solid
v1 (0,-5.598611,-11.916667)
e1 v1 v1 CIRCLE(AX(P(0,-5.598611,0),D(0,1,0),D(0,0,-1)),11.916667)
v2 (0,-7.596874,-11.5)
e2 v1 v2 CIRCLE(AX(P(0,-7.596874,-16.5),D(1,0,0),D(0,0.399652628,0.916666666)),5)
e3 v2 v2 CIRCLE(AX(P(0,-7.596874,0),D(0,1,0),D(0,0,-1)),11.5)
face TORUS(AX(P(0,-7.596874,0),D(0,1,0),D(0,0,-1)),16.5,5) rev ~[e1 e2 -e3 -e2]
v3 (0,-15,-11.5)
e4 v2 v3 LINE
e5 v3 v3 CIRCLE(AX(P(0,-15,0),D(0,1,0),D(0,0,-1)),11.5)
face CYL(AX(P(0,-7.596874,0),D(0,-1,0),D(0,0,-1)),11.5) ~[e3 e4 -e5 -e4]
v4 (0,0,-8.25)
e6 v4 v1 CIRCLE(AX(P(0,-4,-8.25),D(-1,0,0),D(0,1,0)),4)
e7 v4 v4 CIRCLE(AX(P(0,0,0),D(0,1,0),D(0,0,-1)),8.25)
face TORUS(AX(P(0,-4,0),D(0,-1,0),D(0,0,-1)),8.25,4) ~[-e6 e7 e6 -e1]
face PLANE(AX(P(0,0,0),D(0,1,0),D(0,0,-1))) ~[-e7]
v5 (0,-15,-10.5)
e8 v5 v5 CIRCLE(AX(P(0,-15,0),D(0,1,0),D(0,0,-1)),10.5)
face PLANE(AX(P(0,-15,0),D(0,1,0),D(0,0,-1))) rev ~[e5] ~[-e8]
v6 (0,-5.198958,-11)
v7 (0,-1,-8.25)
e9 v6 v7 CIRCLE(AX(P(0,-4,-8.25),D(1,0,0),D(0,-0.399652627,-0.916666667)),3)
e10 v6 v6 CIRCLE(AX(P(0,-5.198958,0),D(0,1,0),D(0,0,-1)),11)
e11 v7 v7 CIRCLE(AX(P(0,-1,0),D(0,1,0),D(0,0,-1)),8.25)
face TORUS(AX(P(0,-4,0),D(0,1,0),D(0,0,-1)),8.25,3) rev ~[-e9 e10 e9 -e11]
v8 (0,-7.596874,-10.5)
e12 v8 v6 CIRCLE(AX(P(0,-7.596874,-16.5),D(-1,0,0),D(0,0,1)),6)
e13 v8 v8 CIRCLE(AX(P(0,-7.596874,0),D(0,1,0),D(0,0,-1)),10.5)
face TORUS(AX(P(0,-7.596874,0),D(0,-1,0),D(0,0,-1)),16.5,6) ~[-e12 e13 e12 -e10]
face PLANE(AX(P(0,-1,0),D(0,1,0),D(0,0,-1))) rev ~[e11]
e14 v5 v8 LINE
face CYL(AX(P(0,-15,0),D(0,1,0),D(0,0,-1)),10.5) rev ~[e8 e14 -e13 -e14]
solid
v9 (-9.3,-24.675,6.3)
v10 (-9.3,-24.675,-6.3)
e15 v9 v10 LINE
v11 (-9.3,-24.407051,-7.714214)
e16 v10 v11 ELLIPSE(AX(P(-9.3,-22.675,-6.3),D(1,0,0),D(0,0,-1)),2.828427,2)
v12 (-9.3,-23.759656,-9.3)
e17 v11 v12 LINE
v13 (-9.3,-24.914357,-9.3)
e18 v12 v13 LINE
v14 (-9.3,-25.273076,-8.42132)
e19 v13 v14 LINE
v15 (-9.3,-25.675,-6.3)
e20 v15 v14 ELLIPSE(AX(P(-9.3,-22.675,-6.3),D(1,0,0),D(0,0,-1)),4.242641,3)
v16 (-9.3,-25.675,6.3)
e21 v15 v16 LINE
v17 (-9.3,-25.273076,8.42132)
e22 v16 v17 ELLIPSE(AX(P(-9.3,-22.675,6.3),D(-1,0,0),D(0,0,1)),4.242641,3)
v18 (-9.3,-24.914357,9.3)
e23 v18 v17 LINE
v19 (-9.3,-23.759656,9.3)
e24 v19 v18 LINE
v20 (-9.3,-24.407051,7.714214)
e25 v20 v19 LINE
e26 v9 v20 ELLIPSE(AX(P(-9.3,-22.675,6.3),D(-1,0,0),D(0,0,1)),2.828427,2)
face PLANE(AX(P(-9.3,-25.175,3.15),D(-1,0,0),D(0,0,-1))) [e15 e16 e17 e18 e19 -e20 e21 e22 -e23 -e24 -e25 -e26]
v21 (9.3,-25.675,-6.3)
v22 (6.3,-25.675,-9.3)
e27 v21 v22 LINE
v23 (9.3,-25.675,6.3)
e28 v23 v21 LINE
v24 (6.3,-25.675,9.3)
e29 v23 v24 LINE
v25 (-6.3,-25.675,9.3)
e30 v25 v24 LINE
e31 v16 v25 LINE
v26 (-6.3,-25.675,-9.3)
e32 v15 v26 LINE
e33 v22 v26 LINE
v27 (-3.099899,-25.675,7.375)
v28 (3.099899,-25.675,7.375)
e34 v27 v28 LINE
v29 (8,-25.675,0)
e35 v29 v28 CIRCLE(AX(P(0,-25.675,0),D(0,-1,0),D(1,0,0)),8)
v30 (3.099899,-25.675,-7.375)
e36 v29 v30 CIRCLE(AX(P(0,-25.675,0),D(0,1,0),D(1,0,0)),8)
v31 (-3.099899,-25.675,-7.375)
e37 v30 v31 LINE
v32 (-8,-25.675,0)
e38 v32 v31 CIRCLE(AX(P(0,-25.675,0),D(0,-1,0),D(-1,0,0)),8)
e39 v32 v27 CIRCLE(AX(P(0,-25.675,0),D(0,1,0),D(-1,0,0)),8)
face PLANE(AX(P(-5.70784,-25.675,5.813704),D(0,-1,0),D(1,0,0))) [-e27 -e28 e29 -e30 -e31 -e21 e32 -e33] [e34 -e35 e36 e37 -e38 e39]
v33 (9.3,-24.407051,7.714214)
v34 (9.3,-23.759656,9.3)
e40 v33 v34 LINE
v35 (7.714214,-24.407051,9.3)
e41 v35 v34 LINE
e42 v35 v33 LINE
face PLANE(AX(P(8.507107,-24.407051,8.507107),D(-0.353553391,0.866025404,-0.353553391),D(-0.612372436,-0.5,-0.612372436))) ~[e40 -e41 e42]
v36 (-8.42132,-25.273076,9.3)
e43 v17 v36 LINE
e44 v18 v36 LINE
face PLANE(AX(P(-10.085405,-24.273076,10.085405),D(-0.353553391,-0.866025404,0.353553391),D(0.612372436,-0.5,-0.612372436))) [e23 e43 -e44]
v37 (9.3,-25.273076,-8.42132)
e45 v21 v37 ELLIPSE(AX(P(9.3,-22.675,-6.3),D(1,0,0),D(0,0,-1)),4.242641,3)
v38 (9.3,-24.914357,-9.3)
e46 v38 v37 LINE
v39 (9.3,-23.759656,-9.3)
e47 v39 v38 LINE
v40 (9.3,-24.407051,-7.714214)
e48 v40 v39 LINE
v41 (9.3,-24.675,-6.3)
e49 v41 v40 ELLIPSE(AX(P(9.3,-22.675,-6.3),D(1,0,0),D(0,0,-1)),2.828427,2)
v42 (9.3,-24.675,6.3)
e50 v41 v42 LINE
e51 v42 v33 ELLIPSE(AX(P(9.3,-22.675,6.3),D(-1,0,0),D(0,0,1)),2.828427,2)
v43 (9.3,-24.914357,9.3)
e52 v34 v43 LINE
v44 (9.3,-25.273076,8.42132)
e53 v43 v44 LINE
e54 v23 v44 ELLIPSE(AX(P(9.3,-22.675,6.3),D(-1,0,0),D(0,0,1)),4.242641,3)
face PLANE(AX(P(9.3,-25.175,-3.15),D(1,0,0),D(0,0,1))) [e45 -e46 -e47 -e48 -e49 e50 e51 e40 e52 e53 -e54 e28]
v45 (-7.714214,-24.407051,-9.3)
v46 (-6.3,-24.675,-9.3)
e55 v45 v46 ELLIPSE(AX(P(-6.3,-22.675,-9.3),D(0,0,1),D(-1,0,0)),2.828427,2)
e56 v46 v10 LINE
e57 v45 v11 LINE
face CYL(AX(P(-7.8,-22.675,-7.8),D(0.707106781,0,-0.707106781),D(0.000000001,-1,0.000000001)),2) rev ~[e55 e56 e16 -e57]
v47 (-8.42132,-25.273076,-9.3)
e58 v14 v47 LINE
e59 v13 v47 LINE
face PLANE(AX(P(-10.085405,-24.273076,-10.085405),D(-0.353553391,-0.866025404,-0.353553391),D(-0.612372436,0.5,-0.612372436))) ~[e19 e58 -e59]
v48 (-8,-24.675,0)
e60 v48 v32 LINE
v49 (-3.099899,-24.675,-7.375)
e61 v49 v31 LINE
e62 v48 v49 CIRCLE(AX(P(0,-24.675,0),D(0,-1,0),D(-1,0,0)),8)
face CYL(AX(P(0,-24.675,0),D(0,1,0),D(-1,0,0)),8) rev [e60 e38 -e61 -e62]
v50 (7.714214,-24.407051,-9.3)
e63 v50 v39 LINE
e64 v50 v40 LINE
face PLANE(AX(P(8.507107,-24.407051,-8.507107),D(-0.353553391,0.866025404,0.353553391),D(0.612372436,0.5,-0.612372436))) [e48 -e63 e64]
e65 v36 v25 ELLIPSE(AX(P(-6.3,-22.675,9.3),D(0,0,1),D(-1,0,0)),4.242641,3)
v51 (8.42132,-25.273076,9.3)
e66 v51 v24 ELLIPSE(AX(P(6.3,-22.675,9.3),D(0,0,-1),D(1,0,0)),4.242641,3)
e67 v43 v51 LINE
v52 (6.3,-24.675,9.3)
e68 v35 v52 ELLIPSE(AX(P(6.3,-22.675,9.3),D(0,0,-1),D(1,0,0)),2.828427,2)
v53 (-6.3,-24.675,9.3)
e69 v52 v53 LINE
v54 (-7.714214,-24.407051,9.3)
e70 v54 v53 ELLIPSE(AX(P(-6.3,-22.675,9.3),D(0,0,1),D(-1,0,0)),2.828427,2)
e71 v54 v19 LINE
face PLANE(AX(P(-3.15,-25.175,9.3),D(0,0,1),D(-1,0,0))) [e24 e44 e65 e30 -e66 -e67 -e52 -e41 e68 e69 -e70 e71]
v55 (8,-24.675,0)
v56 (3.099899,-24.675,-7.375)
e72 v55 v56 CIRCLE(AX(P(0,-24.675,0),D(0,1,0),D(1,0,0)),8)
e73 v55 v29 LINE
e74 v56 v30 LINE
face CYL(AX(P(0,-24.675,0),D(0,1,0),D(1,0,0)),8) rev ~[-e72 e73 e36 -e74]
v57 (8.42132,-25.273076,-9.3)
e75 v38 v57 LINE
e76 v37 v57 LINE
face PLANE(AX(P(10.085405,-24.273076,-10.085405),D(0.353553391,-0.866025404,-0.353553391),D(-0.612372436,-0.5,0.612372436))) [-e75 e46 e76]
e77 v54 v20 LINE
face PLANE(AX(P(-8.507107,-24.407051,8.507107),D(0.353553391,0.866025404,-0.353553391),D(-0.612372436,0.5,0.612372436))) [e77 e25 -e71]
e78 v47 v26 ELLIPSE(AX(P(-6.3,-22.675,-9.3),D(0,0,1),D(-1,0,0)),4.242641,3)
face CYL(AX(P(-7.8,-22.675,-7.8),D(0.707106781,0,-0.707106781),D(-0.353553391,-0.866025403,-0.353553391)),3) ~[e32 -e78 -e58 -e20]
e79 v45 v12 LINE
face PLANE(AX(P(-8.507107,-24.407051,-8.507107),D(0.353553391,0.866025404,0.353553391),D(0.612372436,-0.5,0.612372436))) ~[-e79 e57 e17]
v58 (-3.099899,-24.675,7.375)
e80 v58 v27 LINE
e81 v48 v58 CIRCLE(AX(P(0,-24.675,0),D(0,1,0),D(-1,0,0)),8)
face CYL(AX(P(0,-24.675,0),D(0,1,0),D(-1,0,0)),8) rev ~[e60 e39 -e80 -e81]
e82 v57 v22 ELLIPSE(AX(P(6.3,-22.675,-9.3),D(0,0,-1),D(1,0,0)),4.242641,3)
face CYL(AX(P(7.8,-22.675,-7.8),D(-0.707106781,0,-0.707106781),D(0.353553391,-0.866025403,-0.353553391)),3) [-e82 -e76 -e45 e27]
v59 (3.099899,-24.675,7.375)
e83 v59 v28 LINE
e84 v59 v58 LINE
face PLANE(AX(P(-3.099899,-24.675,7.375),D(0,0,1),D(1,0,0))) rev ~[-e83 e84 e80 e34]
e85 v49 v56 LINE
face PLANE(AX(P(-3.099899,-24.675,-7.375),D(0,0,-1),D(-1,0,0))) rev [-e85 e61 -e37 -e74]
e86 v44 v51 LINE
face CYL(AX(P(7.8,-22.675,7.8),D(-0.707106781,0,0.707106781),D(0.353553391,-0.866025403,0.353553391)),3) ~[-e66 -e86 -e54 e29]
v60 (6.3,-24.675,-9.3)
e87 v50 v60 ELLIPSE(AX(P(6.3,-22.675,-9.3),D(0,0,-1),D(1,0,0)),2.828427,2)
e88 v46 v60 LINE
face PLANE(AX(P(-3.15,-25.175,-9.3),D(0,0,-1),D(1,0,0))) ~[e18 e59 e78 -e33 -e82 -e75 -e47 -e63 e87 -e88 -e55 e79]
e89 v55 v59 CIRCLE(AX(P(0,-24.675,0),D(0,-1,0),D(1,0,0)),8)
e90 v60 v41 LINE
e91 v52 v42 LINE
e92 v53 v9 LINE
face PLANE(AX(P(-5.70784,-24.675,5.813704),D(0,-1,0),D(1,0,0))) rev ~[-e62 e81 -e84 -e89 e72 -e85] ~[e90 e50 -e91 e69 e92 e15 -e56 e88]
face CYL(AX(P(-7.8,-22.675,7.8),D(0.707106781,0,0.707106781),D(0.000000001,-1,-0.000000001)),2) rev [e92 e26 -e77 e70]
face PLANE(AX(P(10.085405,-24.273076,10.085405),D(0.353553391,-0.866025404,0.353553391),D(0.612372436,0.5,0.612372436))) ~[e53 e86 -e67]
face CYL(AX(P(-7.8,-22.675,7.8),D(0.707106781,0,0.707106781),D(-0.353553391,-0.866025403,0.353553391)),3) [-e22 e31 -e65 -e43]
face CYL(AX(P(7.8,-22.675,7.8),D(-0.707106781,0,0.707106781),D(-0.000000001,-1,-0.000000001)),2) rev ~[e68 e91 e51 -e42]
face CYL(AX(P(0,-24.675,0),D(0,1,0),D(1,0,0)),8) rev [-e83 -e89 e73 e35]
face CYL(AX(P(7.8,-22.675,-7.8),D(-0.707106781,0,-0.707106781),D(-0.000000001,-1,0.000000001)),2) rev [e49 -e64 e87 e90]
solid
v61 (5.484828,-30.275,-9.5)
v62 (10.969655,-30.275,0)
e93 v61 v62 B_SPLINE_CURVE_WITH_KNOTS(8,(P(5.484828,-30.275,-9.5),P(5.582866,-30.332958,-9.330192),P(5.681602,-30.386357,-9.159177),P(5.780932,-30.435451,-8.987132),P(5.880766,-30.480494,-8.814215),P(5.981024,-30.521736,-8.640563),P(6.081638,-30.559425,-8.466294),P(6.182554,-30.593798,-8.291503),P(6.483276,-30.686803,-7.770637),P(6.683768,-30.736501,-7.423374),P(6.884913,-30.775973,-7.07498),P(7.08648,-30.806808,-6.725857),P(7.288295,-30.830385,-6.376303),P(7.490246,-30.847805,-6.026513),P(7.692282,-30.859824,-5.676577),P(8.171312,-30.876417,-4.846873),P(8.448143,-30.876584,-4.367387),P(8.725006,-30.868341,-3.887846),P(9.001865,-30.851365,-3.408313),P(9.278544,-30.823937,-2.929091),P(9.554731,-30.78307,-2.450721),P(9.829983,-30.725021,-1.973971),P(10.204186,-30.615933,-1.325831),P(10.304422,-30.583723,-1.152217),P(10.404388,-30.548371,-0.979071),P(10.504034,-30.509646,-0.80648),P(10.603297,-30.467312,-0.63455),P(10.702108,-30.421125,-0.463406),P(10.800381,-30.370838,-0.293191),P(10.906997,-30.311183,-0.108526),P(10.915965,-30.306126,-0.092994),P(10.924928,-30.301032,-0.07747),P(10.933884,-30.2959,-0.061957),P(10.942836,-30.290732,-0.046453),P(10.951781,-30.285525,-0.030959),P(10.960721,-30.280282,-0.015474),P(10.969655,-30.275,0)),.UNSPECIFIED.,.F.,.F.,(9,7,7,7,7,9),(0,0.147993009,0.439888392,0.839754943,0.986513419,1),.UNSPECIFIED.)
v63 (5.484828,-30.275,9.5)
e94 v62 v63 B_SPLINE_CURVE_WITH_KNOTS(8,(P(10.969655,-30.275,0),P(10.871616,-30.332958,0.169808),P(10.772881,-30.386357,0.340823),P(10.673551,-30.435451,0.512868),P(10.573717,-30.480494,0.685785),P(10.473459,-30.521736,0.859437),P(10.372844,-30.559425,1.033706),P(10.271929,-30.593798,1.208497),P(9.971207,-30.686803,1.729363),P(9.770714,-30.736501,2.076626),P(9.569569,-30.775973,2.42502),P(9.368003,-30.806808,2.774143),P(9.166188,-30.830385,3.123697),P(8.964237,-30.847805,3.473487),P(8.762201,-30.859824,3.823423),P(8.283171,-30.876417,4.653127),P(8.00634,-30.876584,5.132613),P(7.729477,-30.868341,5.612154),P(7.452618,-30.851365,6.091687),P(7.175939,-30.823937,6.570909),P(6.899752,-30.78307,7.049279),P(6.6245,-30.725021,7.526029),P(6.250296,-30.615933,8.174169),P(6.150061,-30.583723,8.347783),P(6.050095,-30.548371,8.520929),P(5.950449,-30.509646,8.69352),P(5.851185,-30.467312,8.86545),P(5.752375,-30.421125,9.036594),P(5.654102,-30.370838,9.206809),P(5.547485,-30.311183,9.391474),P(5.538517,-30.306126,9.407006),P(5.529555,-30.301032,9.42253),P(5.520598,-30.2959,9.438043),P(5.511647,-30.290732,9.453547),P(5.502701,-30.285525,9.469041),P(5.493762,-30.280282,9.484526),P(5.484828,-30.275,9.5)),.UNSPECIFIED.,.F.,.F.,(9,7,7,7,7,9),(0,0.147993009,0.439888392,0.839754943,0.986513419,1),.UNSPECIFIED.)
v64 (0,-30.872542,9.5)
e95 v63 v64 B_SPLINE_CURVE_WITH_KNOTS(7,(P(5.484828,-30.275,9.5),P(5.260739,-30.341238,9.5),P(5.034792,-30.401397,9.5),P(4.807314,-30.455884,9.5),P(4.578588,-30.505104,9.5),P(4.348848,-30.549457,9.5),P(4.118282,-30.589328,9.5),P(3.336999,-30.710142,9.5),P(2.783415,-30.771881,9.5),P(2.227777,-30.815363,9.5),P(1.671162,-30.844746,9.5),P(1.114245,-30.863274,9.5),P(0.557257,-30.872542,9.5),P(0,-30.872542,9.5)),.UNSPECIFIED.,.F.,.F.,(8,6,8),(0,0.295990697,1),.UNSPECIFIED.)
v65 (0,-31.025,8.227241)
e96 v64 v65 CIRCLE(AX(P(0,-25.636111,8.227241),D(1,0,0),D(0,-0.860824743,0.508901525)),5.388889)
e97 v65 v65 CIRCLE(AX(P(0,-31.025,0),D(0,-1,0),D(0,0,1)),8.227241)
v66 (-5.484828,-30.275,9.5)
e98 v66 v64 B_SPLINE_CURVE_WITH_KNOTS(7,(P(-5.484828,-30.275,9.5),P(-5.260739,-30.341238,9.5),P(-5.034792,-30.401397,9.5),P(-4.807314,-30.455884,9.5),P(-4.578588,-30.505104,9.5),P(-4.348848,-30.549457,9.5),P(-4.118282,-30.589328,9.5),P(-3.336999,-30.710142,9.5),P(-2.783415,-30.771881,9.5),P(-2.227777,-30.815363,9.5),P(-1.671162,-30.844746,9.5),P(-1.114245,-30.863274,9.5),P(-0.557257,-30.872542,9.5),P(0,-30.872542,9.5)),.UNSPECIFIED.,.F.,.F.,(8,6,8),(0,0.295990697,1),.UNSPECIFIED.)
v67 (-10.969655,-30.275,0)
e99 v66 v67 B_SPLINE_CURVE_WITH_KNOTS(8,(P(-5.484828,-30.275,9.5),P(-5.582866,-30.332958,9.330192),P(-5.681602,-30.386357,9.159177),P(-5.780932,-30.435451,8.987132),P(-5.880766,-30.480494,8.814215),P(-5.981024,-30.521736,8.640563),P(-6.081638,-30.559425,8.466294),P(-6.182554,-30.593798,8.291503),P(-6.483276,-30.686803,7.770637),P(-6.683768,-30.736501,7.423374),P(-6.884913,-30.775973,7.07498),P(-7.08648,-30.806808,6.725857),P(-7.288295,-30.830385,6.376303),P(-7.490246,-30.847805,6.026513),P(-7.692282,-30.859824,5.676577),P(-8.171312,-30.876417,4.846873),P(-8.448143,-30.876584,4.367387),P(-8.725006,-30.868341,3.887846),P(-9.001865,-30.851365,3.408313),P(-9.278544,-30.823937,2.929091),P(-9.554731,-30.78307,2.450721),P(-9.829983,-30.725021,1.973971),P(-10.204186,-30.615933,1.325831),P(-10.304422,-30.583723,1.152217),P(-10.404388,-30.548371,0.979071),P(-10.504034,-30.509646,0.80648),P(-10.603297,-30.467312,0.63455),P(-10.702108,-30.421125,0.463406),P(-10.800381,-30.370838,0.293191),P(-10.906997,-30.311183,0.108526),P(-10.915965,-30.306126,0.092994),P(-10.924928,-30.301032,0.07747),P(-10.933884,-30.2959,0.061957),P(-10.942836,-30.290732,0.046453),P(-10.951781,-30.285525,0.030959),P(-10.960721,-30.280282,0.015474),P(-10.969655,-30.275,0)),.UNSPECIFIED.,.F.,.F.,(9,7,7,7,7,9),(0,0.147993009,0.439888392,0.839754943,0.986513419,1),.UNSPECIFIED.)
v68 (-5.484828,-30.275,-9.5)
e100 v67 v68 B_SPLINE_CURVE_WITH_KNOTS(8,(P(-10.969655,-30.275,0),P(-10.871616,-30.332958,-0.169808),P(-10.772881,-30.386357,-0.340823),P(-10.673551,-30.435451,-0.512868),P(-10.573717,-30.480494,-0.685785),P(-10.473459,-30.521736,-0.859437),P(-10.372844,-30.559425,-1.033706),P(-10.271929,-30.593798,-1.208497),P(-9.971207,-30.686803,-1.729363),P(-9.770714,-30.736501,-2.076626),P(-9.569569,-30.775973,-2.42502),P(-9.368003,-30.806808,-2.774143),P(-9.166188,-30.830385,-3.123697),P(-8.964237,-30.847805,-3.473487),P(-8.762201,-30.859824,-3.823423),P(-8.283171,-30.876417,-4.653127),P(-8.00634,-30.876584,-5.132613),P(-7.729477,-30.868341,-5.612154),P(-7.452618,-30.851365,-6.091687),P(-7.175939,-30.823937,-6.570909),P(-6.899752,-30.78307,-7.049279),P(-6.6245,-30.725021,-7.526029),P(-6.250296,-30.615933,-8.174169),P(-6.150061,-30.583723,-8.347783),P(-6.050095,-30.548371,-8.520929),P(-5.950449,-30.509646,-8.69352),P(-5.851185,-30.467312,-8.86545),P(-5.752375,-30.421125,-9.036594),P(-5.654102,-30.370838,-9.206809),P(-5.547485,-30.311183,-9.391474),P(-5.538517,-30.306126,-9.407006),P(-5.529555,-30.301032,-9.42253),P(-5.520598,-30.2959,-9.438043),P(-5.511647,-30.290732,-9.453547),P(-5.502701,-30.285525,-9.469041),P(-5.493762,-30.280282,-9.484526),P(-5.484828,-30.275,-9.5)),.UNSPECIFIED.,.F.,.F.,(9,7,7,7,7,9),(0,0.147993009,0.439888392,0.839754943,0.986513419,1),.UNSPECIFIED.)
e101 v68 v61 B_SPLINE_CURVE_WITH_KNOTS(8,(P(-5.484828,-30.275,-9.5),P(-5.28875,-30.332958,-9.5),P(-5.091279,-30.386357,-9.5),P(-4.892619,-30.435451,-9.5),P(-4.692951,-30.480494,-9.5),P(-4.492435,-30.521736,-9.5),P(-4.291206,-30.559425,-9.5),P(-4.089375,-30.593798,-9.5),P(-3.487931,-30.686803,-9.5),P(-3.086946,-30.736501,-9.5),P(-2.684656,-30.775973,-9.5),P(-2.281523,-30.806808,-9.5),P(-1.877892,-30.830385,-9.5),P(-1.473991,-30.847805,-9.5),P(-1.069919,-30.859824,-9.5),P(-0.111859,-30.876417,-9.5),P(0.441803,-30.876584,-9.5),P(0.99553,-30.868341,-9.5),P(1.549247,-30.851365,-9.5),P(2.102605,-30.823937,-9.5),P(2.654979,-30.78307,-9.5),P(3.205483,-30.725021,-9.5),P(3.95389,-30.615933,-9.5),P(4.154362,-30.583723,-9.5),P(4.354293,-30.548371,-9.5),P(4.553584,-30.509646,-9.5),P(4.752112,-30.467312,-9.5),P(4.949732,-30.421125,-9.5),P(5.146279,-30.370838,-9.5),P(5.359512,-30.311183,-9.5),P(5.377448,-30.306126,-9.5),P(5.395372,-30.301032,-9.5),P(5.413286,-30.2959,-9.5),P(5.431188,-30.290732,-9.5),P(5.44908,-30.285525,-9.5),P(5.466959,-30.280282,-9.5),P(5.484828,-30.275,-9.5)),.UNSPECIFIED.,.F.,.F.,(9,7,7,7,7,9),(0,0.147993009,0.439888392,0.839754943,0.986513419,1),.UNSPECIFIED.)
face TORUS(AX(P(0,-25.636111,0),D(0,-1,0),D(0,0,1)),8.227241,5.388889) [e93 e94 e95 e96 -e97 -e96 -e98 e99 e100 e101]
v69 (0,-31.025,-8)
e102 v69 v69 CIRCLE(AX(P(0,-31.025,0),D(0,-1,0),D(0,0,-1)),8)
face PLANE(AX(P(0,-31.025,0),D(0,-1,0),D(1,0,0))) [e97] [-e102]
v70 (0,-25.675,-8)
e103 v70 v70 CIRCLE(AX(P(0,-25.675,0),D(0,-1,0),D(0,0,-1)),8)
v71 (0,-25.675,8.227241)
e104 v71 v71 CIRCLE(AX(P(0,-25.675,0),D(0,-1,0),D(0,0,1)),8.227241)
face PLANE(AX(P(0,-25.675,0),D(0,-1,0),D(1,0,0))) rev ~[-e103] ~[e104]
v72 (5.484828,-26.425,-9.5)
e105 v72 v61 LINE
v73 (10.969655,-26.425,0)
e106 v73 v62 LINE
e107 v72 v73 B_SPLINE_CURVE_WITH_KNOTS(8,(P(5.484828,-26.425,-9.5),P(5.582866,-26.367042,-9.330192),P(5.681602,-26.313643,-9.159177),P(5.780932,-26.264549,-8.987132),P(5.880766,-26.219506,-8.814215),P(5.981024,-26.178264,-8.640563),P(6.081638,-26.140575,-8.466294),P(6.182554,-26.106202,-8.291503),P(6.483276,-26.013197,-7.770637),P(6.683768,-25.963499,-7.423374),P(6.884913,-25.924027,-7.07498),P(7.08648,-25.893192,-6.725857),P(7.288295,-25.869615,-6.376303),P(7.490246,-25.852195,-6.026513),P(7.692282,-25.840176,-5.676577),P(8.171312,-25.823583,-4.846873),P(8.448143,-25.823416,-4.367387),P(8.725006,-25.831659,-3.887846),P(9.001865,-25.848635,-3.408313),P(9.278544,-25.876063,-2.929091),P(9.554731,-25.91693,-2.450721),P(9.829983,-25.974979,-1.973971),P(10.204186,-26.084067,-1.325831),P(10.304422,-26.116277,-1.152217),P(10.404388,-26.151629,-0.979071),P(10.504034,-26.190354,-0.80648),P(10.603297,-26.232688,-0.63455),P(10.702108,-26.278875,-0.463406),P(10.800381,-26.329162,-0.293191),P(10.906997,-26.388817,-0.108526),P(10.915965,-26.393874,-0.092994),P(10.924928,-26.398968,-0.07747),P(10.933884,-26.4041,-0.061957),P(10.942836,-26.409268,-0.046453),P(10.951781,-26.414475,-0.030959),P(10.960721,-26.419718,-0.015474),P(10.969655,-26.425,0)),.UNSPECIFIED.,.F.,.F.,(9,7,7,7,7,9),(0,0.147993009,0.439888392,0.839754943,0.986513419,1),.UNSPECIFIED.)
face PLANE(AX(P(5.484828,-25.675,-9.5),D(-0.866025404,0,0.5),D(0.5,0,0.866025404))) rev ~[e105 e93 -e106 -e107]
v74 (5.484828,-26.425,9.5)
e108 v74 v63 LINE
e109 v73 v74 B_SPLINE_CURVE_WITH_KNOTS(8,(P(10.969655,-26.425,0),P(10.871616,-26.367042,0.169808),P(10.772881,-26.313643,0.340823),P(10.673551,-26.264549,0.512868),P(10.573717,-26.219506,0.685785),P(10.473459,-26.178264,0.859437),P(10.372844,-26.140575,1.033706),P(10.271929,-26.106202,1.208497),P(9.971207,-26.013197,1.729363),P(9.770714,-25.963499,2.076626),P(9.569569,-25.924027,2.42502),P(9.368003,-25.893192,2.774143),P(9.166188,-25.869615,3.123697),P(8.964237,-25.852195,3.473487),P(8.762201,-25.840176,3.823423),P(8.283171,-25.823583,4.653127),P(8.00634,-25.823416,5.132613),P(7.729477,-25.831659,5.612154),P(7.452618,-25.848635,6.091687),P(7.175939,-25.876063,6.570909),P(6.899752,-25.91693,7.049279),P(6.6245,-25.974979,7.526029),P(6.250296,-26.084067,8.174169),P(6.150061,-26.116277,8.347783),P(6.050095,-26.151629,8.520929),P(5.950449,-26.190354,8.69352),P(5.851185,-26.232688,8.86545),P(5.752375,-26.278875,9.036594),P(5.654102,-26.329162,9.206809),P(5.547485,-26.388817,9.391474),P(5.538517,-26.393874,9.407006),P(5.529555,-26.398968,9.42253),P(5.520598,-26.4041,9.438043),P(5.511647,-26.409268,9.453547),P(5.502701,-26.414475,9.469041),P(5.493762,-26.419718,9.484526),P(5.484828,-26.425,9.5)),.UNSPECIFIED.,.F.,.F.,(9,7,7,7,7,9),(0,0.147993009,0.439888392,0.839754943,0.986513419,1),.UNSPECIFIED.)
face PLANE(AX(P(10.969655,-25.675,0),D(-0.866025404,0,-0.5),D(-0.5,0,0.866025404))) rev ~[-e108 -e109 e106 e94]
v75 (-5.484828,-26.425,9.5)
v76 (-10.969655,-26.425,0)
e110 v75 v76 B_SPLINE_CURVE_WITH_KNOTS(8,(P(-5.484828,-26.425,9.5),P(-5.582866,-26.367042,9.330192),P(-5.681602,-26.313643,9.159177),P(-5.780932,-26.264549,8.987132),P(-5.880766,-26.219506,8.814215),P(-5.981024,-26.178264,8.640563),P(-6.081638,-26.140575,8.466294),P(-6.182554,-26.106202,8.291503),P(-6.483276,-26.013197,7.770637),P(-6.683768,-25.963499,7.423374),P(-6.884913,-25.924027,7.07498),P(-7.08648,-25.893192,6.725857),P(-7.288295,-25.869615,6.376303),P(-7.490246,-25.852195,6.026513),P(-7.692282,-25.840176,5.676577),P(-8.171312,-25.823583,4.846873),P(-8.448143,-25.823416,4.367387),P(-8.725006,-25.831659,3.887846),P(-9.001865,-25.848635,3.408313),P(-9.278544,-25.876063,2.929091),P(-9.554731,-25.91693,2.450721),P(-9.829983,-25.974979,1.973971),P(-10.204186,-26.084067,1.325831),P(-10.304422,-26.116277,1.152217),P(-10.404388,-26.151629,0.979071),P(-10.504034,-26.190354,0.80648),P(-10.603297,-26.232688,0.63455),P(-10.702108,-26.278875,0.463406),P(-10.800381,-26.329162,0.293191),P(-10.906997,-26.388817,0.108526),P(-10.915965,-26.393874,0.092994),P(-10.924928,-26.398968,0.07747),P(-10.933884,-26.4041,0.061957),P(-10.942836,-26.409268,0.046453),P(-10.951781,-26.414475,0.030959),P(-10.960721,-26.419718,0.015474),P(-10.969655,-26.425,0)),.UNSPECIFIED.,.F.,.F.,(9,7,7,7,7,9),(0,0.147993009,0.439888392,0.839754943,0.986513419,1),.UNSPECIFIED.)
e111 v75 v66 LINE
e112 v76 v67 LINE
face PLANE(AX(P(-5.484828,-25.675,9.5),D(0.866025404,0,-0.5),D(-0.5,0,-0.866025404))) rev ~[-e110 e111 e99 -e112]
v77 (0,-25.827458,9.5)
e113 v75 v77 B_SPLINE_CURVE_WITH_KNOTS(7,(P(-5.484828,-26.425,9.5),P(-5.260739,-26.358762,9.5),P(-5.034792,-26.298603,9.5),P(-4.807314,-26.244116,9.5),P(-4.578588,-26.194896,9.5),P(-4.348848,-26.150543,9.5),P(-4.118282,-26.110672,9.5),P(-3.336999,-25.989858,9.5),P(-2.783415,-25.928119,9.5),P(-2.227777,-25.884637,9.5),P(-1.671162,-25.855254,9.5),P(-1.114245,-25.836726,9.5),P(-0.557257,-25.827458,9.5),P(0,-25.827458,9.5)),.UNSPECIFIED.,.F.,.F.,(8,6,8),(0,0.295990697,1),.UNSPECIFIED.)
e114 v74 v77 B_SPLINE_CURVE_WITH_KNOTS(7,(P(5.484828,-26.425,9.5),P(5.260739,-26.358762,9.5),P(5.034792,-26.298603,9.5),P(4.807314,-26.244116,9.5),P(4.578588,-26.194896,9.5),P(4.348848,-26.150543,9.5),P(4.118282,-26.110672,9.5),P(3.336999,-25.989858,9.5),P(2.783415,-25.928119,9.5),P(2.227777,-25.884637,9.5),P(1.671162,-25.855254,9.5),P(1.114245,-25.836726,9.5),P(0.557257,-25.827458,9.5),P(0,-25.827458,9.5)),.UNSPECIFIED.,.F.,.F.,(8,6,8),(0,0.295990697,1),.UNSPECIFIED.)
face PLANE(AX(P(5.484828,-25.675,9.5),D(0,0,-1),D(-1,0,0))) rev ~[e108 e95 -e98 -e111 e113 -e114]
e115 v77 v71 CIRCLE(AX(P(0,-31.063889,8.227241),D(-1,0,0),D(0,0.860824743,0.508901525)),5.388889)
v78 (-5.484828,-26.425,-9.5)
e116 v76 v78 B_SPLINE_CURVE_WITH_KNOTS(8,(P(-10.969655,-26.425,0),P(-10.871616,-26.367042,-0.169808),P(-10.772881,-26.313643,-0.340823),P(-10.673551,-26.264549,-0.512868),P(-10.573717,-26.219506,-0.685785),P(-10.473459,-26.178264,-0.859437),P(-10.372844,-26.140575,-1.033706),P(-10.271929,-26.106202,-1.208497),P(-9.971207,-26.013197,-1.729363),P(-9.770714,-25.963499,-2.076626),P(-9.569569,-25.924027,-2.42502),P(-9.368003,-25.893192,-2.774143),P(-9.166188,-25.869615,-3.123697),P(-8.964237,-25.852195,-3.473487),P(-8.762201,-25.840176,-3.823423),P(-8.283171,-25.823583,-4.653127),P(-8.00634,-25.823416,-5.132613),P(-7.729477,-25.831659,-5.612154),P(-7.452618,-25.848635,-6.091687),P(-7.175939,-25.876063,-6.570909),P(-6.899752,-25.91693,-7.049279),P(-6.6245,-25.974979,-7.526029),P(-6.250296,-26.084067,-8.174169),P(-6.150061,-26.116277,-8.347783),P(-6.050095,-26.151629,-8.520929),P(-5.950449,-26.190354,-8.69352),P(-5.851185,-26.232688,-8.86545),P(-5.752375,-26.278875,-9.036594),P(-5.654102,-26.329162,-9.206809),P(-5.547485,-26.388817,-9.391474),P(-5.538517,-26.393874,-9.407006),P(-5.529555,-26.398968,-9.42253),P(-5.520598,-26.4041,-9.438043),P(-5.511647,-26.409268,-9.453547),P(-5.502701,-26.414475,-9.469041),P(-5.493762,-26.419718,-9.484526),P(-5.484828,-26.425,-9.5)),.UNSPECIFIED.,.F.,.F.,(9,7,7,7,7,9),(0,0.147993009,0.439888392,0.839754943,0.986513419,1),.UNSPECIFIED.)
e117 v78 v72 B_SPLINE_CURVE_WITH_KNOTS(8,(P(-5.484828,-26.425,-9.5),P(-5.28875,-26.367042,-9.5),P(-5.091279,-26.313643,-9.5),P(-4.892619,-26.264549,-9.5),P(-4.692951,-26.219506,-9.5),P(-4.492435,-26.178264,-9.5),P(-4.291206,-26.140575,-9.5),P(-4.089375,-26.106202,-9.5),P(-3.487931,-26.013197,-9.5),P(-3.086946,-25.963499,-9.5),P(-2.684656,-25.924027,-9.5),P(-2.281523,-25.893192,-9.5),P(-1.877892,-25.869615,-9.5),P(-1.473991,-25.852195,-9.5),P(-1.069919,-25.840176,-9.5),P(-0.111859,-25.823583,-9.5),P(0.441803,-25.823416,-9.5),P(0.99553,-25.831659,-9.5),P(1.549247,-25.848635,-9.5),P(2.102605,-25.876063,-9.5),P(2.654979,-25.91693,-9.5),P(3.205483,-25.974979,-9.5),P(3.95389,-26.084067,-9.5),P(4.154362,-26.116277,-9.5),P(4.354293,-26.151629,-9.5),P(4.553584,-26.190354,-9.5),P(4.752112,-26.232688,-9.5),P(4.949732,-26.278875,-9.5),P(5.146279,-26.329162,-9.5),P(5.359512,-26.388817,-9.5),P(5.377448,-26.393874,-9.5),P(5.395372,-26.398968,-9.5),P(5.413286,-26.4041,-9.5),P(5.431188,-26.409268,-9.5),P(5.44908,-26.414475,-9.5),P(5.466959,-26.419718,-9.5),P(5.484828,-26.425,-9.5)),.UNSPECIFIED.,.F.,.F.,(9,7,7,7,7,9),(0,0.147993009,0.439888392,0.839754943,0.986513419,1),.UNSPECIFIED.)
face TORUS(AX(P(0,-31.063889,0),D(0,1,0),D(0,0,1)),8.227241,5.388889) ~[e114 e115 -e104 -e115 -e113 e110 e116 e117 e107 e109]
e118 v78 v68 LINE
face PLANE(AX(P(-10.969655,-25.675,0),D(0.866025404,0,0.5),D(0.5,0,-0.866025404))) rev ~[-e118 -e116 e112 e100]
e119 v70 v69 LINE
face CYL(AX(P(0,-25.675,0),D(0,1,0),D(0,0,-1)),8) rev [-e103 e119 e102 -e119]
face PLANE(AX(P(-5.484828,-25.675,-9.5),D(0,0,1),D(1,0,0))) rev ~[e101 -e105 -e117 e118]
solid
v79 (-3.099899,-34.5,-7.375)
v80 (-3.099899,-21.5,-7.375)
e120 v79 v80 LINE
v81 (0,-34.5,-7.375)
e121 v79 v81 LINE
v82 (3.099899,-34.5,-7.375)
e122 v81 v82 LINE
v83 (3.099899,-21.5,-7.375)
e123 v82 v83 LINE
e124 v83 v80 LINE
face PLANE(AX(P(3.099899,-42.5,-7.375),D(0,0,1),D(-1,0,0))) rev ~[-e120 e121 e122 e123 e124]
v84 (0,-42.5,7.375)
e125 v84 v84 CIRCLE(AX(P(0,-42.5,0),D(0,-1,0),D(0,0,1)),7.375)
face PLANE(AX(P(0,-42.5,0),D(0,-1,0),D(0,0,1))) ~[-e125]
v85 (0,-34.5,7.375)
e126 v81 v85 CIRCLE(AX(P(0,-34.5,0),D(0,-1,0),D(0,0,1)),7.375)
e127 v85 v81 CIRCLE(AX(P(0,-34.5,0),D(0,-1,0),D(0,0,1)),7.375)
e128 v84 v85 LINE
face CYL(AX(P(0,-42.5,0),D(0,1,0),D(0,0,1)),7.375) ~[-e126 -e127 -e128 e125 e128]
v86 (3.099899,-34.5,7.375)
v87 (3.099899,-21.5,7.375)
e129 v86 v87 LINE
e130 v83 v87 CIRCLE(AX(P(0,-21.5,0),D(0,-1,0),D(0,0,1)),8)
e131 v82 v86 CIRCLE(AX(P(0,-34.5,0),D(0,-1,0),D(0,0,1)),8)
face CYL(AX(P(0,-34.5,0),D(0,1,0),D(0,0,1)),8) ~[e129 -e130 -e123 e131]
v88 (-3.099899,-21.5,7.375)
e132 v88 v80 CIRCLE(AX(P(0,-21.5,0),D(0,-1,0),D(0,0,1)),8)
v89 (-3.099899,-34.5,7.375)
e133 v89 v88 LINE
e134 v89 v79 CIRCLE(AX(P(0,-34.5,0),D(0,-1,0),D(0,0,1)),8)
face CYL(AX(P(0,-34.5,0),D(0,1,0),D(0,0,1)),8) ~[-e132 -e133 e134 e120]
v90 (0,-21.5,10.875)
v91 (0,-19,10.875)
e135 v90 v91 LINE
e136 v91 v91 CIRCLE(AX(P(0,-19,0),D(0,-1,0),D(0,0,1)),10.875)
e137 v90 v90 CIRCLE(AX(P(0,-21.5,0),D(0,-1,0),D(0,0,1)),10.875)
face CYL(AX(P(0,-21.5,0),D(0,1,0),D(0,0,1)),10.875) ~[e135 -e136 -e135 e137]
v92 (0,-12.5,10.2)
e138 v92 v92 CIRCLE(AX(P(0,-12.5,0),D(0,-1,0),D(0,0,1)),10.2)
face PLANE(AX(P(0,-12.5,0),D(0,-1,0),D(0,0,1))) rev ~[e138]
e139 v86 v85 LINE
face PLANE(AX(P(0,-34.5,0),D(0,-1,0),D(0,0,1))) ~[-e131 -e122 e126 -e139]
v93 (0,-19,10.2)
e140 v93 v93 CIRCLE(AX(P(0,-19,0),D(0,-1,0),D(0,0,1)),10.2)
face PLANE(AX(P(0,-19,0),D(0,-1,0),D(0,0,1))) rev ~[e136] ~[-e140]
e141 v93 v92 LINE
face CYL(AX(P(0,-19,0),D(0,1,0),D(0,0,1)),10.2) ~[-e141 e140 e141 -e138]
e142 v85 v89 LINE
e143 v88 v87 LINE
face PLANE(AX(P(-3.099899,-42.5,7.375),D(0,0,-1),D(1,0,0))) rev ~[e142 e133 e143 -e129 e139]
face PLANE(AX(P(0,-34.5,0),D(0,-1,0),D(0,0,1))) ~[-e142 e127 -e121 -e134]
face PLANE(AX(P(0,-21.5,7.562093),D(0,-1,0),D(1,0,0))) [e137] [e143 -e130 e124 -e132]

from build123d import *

# Parameters (mm, degrees)
CUT_EXTRUDE1_DEPTH              = 21
BOSS_EXTRUDE1_DEPTH             = 1
BOSS_EXTRUDE3_REACH             = 39.588
BOSS_EXTRUDE3_DIRECTION_2_REACH = 39.588
SKETCH7_R                       = 8
BOSS_EXTRUDE4_DEPTH             = 5.35


with BuildPart() as part:
    # Sketch1 → Revolve-Thin1 (revolve)
    with BuildSketch(Plane.XY, mode=Mode.PRIVATE) as revolve_thin1_sk:
        with BuildLine():
            Line((0, 0), (8.25, 0))
            ThreePointArc((8.25, 0), (11.59622489, -1.808475648), (11.916666667, -5.598610508))
            ThreePointArc((11.916666667, -5.598610508), (11.605274948, -6.576252916), (11.5, -7.596873642))
            Line((11.5, -7.596873642), (11.5, -15))
            Line((11.5, -15), (10.5, -15))
            Line((10.5, -15), (10.5, -7.596873642))
            ThreePointArc((10.5, -7.596873642), (10.626329938, -6.372128771), (11, -5.198957881))
            ThreePointArc((11, -5.198957881), (10.759668668, -2.356356736), (8.25, -1))
            Line((8.25, -1), (0, -1))
            Line((0, -1), (0, 0))
        make_face()
    revolve(revolve_thin1_sk.sketch.rotate(Axis((0, -42.5, 0), (0, 1, 0)), 90), axis=Axis((0, -42.5, 0), (0, 1, 0)))


with BuildPart() as body_2:
    # Sketch2 → Revolve1 (revolve)
    with BuildSketch(Plane.XY, mode=Mode.PRIVATE) as revolve1_sk:
        Polygon((0, -42.5), (7.375, -42.5), (7.375, -34.5), (8, -34.5), (8, -21.5), (10.875, -21.5), (10.875, -19), (10.2, -19), (10.2, -12.5), (0, -12.5), align=None)
    revolve(revolve1_sk.sketch.rotate(Axis((0, -12.5, 0), (0, -1, 0)), 90), axis=Axis((0, -12.5, 0), (0, -1, 0)))

    # Sketch3 → Cut-Extrude1 (cut)
    with BuildSketch(Plane.XZ.offset(42.5)):
        with BuildLine():
            ThreePointArc((3.099899192, 7.375), (0, 8), (-3.099899192, 7.375))
            Line((-3.099899192, 7.375), (3.099899192, 7.375))
        make_face()
        with BuildLine():
            Line((3.099899192, -7.375), (-3.099899192, -7.375))
            ThreePointArc((-3.099899192, -7.375), (0, -8), (3.099899192, -7.375))
        make_face()
    extrude(amount=-CUT_EXTRUDE1_DEPTH, mode=Mode.SUBTRACT)


with BuildPart() as body_3:
    # Sketch4 → Boss-Extrude1 (new body)
    with BuildSketch(Plane.XZ.offset(24.675)):
        with BuildLine():
            Line((-6.3, 9.3), (-9.3, 6.3))
            Line((-9.3, 6.3), (-9.3, 0))
            Line((-9.3, 0), (-8, 0))
            ThreePointArc((-8, 0), (-6.663302242, 4.427234264), (-3.099899192, 7.375))
            Line((-3.099899192, 7.375), (0, 7.375))
            Line((0, 7.375), (0, 9.3))
            Line((0, 9.3), (-6.3, 9.3))
        make_face()
    extrude(amount=BOSS_EXTRUDE1_DEPTH)

    # Boss-Extrude3: up to this face of the body (flat: up to its plane)
    boss_extrude3_end = Plane(body_3.part.faces().sort_by_distance((-3.15, -25.175, 9.3))[0])
    # Sketch5 → Boss-Extrude3 (add, up to the picked face)
    with BuildSketch(Plane(origin=(-7.8, -24.675, 7.8), x_dir=(0.7071067811865476, 0, -0.7071067811865476), z_dir=(0.7071067811865476, 0, 0.7071067811865476)), mode=Mode.PRIVATE) as boss_extrude3_sk1:
        with BuildLine():
            Line((-2.732050808, 1.267949192), (-3.232050808, 0.401923789))
            Line((-3.232050808, 0.401923789), (-1.5, -0.598076211))
            ThreePointArc((-1.5, -0.598076211), (-0.776457135, -0.897777479), (0, -1))
            Line((0, -1), (0, 0))
            ThreePointArc((0, 0), (-0.51763809, 0.068148347), (-1, 0.267949192))
            Line((-1, 0.267949192), (-2.732050808, 1.267949192))
        make_face()
    boss_extrude3_tool1 = split(extrude(boss_extrude3_sk1.sketch, amount=BOSS_EXTRUDE3_REACH, mode=Mode.PRIVATE), bisect_by=boss_extrude3_end, keep=Keep.BOTH, mode=Mode.PRIVATE)
    add(boss_extrude3_tool1.solids().sort_by(Axis((-8.885675, -24.638373, 8.885675), (0.7071067811865476, 0, 0.7071067811865476)))[0])

    # Boss-Extrude3 direction 2: up to this face of the body (flat: up to its plane)
    boss_extrude3_direction_2_end = Plane(body_3.part.faces().sort_by_distance((-9.3, -25.175, 3.15))[0])
    # Sketch5 → Boss-Extrude3 direction 2 (add, up to the picked face)
    with BuildSketch(Plane(origin=(-7.8, -24.675, 7.8), x_dir=(0.7071067811865476, 0, -0.7071067811865476), z_dir=(0.7071067811865476, 0, 0.7071067811865476)), mode=Mode.PRIVATE) as boss_extrude3_direction_2_sk1:
        with BuildLine():
            Line((-2.732050808, 1.267949192), (-3.232050808, 0.401923789))
            Line((-3.232050808, 0.401923789), (-1.5, -0.598076211))
            ThreePointArc((-1.5, -0.598076211), (-0.776457135, -0.897777479), (0, -1))
            Line((0, -1), (0, 0))
            ThreePointArc((0, 0), (-0.51763809, 0.068148347), (-1, 0.267949192))
            Line((-1, 0.267949192), (-2.732050808, 1.267949192))
        make_face()
    boss_extrude3_direction_2_tool1 = split(extrude(boss_extrude3_direction_2_sk1.sketch, amount=-BOSS_EXTRUDE3_DIRECTION_2_REACH, mode=Mode.PRIVATE), bisect_by=boss_extrude3_direction_2_end, keep=Keep.BOTH, mode=Mode.PRIVATE)
    add(boss_extrude3_direction_2_tool1.solids().sort_by(Axis((-8.885675, -24.638373, 8.885675), (-0.7071067811865476, 0, -0.7071067811865476)))[0])


with BuildPart() as body_4:
    # Mirror1: mirrored copy
    add(body_3.part.mirror(Plane(origin=(0, -25.675, 0), x_dir=(0, 0, 1), z_dir=(-1, 0, 0))))


with BuildPart() as body_5:
    # Mirror2: mirrored copy
    add(body_3.part.mirror(Plane(origin=(0, -25.675, 0), x_dir=(1, 0, 0), z_dir=(0, 0, -1))))


with BuildPart() as body_6:
    # Mirror2 2: mirrored copy
    add(body_4.part.mirror(Plane(origin=(0, -25.675, 0), x_dir=(1, 0, 0), z_dir=(0, 0, -1))))


with BuildPart() as body_4_1:
    add(body_4.part)

    # Combine1: union body 6, body 5, body 3
    add(body_6.part)
    add(body_5.part)
    add(body_3.part)


with BuildPart() as body_4_2:
    # Sketch7 → Boss-Extrude4 (new body)
    with BuildSketch(Plane.XZ.offset(25.675)):
        Polygon((5.484827557, 9.5), (-5.484827557, 9.5), (-10.969655115, 0), (-5.484827557, -9.5), (5.484827557, -9.5), (10.969655115, 0), align=None)
        with Locations(Location((0, 0, 0), (0, 0, 270))):
            Circle(SKETCH7_R, mode=Mode.SUBTRACT)
    extrude(amount=BOSS_EXTRUDE4_DEPTH)

    # Sketch8 → Cut-Revolve2 (revolve, cut)
    with BuildSketch(Plane.XY, mode=Mode.PRIVATE) as cut_revolve2_sk:
        with BuildLine():
            Line((-8.227241336, -25.675), (-10.969655115, -25.675))
            Line((-10.969655115, -25.675), (-10.969655115, -26.425))
            ThreePointArc((-10.969655115, -26.425), (-9.648801512, -25.865880605), (-8.227241336, -25.675))
        make_face()
        with BuildLine():
            Line((-8.227241336, -31.025), (-10.969655115, -31.025))
            Line((-10.969655115, -31.025), (-10.969655115, -30.275))
            ThreePointArc((-10.969655115, -30.275), (-9.648801512, -30.834119395), (-8.227241336, -31.025))
        make_face()
    revolve(cut_revolve2_sk.sketch.rotate(Axis((0, -25.675, 0), (0, -1, 0)), 270), axis=Axis((0, -25.675, 0), (0, -1, 0)), mode=Mode.SUBTRACT)


solid = Compound([part.part, body_2.part, body_4_1.part, body_4_2.part])
